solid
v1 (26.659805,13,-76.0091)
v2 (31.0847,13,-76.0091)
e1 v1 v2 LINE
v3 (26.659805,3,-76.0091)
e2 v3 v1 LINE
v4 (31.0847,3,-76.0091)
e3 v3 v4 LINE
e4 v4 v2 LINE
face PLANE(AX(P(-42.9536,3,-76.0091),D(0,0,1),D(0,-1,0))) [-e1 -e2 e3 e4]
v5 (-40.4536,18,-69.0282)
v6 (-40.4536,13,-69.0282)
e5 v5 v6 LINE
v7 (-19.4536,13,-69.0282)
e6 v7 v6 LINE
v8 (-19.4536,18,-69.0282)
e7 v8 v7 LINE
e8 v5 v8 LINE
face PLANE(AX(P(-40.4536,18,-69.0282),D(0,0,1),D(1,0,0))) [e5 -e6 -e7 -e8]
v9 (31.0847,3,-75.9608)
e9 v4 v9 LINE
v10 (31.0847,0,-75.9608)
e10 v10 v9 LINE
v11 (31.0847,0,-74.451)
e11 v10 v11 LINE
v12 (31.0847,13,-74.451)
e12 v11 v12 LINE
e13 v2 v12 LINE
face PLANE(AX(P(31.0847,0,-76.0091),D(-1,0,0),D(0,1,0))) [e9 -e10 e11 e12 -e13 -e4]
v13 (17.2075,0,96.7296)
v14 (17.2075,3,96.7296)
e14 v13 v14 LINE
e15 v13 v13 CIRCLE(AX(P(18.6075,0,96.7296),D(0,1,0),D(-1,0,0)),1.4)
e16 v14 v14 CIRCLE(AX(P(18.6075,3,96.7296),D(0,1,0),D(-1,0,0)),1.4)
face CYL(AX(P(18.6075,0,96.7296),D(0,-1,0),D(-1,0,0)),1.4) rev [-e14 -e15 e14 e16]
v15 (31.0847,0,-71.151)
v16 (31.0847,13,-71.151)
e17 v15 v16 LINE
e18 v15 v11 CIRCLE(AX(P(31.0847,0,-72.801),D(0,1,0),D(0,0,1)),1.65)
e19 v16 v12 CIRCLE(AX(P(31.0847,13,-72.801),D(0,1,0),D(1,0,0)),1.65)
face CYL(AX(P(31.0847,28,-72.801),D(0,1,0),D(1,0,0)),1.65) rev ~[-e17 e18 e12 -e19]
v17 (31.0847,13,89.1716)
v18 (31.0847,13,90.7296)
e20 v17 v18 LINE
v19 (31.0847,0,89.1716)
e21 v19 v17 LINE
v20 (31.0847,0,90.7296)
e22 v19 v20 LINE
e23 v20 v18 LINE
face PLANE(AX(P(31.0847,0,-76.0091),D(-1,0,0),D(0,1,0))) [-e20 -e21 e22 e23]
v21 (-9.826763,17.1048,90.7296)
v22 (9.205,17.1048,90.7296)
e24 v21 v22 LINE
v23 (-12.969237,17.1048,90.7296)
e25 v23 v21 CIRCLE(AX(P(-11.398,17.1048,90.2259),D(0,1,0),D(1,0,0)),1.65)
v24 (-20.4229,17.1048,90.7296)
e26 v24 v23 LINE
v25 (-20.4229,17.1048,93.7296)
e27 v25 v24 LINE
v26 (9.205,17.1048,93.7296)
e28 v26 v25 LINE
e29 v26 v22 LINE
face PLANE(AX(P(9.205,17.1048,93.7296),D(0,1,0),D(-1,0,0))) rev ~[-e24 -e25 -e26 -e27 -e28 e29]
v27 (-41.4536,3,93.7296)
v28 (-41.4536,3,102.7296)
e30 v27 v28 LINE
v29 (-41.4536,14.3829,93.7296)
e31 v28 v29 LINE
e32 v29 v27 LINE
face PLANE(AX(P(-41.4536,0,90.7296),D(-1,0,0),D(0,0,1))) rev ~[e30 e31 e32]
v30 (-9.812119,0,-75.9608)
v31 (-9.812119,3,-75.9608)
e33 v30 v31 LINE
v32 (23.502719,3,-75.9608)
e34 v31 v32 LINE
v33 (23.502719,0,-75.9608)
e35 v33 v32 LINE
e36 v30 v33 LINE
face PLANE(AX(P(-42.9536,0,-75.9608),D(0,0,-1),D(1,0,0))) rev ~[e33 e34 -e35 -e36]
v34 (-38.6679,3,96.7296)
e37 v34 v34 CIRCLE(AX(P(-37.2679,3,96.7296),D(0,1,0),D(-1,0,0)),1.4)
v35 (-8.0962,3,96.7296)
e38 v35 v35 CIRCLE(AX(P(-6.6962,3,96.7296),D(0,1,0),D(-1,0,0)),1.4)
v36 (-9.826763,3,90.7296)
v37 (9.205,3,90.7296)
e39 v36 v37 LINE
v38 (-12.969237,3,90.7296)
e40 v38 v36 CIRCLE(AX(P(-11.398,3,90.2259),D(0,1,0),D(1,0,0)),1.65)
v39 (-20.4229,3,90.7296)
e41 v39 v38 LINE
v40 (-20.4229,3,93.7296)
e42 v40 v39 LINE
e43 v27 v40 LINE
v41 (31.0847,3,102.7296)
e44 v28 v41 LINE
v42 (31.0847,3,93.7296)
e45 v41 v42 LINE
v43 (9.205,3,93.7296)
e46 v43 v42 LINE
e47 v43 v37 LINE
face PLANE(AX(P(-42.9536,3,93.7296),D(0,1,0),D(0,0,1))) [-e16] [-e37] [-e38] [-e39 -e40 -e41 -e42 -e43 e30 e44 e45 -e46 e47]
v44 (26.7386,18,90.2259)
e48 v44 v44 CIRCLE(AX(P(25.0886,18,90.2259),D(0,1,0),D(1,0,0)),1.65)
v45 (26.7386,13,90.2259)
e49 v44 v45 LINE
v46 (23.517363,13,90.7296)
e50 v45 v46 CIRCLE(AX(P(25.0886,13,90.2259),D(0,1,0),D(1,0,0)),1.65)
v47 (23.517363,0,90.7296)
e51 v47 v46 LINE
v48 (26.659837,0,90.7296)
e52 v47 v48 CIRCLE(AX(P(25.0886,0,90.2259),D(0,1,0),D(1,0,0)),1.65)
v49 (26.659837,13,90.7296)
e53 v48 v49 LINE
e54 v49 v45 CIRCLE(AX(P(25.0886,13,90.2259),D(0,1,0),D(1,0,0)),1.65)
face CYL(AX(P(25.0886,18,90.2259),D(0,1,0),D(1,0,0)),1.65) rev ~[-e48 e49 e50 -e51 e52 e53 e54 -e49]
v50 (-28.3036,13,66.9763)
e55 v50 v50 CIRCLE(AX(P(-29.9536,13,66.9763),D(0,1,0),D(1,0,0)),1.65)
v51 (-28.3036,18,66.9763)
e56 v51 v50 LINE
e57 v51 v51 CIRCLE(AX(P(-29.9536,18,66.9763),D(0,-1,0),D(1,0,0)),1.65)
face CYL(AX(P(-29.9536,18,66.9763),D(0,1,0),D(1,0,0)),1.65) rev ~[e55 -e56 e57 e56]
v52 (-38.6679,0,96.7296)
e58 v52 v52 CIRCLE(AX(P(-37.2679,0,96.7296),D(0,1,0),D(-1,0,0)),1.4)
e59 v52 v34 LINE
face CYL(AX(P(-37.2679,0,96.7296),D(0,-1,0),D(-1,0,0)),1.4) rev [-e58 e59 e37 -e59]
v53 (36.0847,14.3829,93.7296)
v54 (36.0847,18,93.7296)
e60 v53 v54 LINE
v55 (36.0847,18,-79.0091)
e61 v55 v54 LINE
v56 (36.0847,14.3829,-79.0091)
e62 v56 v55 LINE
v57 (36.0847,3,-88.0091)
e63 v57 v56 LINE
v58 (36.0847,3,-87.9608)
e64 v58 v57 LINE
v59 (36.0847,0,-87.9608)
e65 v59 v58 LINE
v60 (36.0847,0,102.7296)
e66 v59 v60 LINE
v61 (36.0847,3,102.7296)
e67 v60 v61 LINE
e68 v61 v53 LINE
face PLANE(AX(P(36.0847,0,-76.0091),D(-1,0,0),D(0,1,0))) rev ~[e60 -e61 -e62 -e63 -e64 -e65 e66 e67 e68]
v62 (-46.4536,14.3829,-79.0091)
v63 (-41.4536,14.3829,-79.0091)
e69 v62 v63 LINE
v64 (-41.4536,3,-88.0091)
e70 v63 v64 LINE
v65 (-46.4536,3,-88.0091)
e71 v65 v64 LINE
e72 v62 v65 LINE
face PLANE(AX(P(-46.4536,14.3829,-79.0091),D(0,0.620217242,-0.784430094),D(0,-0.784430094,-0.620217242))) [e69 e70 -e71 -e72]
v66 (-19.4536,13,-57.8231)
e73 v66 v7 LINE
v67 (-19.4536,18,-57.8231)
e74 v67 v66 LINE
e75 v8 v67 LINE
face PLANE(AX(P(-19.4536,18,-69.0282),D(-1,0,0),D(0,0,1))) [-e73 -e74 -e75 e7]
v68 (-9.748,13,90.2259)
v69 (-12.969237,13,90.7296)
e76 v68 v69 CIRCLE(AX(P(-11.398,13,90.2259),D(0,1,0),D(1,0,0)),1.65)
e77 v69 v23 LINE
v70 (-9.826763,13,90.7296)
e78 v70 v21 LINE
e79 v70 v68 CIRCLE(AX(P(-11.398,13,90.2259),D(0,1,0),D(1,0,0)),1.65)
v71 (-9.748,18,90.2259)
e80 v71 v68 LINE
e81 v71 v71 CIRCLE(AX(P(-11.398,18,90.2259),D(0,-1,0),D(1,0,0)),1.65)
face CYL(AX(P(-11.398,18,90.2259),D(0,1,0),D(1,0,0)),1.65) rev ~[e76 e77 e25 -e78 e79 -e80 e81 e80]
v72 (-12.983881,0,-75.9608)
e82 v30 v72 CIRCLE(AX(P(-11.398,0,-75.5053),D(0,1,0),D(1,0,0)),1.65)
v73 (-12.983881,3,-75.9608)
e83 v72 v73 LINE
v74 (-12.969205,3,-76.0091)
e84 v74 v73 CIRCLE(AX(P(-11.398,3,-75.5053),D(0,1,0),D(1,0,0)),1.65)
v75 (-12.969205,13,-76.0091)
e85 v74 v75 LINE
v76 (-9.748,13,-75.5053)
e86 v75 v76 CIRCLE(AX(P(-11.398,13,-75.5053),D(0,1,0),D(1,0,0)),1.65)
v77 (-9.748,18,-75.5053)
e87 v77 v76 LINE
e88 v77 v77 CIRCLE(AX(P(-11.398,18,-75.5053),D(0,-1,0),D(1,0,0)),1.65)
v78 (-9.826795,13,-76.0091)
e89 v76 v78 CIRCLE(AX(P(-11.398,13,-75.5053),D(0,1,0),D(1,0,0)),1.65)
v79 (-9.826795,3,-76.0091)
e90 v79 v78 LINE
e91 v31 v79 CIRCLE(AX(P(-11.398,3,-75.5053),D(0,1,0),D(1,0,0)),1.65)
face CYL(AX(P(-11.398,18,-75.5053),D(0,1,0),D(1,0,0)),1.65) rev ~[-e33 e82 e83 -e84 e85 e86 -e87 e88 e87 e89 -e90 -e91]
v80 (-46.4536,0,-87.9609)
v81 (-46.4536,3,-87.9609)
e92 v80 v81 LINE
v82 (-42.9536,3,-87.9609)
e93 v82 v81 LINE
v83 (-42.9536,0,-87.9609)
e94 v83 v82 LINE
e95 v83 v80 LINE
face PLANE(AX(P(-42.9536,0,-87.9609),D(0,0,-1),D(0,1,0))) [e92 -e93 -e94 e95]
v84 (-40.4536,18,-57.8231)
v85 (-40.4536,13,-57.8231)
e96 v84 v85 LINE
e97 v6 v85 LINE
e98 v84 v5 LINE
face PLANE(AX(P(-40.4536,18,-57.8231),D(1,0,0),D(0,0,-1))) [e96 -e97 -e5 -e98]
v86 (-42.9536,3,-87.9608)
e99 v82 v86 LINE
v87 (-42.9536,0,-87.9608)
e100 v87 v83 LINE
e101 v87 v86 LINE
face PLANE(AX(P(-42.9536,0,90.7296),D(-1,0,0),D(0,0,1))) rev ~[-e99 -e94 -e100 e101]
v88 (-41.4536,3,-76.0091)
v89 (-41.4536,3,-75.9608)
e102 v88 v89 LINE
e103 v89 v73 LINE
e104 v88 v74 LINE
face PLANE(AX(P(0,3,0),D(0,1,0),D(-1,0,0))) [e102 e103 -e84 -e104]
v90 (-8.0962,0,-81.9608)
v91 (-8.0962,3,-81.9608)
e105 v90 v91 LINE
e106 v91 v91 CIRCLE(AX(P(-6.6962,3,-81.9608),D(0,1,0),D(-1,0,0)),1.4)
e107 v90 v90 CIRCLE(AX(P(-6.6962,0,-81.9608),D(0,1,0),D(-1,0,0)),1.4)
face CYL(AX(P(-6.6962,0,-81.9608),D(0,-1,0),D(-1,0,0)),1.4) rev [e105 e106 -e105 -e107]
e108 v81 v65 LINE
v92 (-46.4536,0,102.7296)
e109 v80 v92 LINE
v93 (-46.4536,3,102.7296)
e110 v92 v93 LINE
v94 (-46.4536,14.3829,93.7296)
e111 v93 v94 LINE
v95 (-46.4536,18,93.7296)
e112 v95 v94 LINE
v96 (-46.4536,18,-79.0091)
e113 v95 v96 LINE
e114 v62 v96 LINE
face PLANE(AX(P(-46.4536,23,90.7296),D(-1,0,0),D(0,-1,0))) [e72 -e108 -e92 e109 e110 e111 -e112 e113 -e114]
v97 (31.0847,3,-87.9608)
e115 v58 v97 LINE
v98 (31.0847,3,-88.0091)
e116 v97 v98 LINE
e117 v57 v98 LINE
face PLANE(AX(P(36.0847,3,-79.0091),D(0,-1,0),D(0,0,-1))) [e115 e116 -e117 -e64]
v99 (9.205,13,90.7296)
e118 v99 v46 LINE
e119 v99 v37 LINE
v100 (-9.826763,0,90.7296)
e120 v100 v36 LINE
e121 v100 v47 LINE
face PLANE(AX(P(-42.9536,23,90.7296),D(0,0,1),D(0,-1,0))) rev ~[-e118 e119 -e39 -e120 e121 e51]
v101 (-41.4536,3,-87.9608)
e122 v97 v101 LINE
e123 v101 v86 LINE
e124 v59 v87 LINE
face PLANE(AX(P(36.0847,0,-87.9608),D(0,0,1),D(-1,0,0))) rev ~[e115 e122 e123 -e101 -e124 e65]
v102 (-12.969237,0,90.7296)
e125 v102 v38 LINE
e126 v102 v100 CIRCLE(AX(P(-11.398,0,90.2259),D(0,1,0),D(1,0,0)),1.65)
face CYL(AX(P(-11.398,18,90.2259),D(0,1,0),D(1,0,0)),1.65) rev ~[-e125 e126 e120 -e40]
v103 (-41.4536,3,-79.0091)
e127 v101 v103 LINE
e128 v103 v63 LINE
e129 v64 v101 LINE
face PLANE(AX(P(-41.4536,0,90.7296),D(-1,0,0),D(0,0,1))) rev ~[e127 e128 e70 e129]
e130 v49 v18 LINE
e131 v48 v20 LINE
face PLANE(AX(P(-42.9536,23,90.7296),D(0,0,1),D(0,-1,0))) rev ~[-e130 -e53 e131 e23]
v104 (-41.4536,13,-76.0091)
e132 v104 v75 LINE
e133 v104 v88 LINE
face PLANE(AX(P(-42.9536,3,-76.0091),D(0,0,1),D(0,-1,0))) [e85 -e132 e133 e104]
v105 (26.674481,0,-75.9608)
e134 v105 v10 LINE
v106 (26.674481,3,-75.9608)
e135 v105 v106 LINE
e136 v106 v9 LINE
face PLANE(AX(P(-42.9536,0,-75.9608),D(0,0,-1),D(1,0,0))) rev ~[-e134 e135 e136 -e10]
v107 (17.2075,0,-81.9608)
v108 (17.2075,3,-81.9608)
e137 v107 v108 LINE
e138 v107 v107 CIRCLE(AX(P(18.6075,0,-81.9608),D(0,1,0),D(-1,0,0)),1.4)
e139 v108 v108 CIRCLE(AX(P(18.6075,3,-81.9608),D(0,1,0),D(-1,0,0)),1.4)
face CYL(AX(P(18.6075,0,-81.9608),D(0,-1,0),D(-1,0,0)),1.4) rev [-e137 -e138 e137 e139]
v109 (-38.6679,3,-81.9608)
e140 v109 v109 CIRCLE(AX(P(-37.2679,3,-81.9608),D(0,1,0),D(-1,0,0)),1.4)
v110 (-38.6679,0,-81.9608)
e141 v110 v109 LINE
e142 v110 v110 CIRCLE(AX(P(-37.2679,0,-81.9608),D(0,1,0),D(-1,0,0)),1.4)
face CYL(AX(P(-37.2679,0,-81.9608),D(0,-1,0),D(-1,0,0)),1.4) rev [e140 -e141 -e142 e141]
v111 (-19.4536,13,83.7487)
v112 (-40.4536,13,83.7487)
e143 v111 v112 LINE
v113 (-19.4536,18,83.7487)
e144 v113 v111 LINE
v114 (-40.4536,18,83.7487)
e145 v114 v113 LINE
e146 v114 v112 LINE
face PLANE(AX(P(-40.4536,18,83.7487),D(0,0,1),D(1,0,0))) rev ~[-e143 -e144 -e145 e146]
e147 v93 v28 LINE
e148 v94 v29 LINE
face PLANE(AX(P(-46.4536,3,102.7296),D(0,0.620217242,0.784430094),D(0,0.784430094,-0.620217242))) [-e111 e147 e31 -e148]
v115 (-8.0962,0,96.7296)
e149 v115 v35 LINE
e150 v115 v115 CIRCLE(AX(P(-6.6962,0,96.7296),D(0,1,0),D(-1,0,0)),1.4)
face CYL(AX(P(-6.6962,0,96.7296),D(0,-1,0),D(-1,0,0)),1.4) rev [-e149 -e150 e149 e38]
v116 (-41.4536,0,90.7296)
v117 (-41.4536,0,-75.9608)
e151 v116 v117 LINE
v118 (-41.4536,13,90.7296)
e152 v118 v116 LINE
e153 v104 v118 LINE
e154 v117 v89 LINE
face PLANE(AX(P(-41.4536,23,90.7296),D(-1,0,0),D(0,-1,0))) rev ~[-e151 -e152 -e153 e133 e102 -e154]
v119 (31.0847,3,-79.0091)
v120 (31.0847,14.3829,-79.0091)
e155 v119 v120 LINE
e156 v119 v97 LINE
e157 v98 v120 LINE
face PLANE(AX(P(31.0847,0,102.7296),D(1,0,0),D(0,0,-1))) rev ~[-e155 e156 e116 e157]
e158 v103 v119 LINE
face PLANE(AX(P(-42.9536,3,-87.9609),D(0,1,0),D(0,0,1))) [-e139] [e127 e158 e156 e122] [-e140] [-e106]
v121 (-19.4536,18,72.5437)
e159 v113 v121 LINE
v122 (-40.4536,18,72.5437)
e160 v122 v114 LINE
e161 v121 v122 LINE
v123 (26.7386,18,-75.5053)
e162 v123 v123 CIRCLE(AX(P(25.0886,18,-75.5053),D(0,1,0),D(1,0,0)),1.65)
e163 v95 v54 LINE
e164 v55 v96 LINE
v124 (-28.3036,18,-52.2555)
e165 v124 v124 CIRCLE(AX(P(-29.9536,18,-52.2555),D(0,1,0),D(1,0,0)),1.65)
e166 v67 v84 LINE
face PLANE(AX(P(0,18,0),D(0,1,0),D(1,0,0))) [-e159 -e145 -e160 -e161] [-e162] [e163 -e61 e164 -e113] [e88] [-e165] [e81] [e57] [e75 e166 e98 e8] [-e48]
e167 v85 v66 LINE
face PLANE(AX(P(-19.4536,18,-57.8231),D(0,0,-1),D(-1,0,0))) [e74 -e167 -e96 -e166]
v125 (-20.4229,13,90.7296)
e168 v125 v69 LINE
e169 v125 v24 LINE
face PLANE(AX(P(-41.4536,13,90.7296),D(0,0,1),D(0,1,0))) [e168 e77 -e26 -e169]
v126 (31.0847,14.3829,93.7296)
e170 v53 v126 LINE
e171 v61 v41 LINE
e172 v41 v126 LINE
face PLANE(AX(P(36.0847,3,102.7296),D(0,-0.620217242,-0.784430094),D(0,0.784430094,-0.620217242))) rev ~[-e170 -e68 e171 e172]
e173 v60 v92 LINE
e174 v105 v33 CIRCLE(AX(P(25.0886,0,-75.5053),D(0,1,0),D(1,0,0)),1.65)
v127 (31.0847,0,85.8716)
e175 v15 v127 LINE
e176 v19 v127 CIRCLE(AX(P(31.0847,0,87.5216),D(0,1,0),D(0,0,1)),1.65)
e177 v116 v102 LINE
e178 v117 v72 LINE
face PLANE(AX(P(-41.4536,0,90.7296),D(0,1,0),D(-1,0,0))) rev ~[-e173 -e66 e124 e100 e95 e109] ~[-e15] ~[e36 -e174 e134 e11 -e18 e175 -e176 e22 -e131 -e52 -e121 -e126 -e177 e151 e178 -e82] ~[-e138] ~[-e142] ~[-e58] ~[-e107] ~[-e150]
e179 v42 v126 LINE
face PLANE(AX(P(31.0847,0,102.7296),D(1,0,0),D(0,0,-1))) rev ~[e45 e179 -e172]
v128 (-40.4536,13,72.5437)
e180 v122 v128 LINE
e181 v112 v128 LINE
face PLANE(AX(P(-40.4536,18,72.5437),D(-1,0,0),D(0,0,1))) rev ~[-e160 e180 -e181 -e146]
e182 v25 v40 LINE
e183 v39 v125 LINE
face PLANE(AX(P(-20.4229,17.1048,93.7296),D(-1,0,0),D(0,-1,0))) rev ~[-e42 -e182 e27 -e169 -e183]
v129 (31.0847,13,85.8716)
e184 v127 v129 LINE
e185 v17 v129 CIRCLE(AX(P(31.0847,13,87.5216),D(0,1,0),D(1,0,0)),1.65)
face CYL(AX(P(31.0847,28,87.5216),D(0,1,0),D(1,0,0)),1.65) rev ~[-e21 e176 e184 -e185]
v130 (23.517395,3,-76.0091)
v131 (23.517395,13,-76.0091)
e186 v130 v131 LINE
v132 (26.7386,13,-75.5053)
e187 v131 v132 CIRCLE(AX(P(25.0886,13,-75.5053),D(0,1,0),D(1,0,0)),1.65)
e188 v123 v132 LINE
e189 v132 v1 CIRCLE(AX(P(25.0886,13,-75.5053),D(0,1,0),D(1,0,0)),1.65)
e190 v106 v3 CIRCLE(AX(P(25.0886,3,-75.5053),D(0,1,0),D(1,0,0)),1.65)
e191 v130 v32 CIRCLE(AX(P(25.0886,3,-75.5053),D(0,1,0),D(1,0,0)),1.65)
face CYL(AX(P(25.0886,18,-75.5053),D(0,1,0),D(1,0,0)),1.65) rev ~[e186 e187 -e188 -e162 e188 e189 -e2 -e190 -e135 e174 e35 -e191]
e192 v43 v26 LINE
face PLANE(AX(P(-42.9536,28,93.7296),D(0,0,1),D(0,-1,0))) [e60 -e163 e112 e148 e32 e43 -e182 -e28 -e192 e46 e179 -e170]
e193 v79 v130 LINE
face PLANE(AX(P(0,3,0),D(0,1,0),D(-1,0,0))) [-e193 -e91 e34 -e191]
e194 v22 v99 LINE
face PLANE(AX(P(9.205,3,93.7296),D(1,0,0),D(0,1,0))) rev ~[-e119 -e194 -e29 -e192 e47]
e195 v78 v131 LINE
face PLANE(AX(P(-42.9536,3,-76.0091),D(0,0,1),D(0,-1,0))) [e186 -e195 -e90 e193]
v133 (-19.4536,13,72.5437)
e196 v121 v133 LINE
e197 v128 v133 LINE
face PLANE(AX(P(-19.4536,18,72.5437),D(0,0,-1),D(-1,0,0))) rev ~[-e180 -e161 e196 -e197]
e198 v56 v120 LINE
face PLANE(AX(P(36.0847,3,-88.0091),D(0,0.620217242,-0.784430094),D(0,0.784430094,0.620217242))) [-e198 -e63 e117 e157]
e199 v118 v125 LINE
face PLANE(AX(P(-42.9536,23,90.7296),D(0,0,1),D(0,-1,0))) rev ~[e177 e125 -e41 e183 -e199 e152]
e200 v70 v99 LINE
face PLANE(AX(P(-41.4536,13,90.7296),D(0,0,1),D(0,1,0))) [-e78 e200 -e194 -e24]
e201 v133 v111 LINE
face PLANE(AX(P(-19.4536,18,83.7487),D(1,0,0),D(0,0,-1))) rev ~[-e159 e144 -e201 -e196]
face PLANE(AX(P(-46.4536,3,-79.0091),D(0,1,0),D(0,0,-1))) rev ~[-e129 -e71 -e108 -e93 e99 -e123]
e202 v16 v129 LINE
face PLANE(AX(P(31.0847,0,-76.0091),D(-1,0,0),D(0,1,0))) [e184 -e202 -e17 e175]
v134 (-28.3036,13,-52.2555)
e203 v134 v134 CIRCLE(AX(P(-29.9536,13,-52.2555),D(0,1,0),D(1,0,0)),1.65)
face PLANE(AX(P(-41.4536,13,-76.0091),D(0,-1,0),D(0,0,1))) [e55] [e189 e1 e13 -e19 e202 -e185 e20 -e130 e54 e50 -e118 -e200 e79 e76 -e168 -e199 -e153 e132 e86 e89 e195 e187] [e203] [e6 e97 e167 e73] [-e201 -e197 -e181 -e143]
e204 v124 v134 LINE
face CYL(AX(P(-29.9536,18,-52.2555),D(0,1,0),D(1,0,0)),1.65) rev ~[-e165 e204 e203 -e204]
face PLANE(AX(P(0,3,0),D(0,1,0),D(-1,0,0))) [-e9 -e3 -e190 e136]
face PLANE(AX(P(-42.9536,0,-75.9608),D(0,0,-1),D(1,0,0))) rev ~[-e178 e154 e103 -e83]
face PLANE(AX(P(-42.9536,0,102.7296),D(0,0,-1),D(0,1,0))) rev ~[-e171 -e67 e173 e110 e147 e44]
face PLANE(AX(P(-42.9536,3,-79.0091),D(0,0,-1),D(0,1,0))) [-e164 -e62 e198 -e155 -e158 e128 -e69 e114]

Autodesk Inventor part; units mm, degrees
ref_plane "YZ Plane" through (0, 0, 0) normal (1, 0, 0) x (0, 1, 0)
ref_plane "XZ Plane" through (0, 0, 0) normal (0, 1, 0) x (-1, 0, 0)
ref_plane "XY Plane" through (0, 0, 0) normal (0, 0, 1) x (1, 0, 0)
sketch "Sketch1" plane through (0, 0, 0) normal (0, 1, 0) x (-1, 0, 0)
  line L0 (-36.0847, -75.9608) -> (-36.0847, -87.9608)
  line L1 (-36.0847, -87.9608) -> (42.9536, -87.9608)
  line L2 (42.9536, -87.9608) -> (42.9536, -75.9608)
  line L3 (42.9536, -75.9608) -> (-36.0847, -75.9608)
  line L4 (-36.0847, -75.9608) -> (-36.0847, -87.9608)
  circle A0 centre (-18.6075, -81.9608) radius 1.4
  circle A1 centre (-18.6075, -81.9608) radius 1.4
  circle A2 centre (6.6962, -81.9608) radius 1.4
  circle A3 centre (6.6962, -81.9608) radius 1.4
  circle A4 centre (37.2679, -81.9608) radius 1.4
  circle A5 centre (37.2679, -81.9608) radius 1.4
  line L5 (-36.0847, 90.7296) -> (-36.0847, 102.7296)
  line L6 (-36.0847, 102.7296) -> (42.9536, 102.7296)
  line L7 (42.9536, 102.7296) -> (42.9536, 90.7296)
  line L8 (42.9536, 90.7296) -> (-36.0847, 90.7296)
  line L9 (-36.0847, 90.7296) -> (-36.0847, 102.7296)
  circle A6 centre (-18.6075, 96.7296) radius 1.4
  circle A7 centre (-18.6075, 96.7296) radius 1.4
  circle A8 centre (6.6962, 96.7296) radius 1.4
  circle A9 centre (6.6962, 96.7296) radius 1.4
  circle A10 centre (37.2679, 96.7296) radius 1.4
  circle A11 centre (37.2679, 96.7296) radius 1.4
  point P0 (0, 0)
  point P1 (-48.8522, 7.3844)
extrude "Extrusion1" add sketch "Sketch1" along normal blind 3
sketch "Sketch2" plane through (0, 3, 0) normal (0, 1, 0) x (1, 0, 0)
  line L0 (36.0847, -90.7296) -> (-42.9536, -90.7296) projected
  line L1 (-42.9536, -90.7296) -> (-42.9536, -102.7296) projected
  line L2 (36.0847, -90.7296) -> (-42.9536, -90.7296)
  line L3 (-42.9536, -90.7296) -> (-42.9536, -93.7296)
  line L4 (-42.9536, -93.7296) -> (36.0847, -93.7296)
  line L5 (36.0847, -93.7296) -> (36.0847, -90.7296)
  line L6 (-42.9536, 76.0091) -> (36.0847, 76.0091)
  line L7 (36.0847, 76.0091) -> (36.0847, 79.0091)
  line L8 (36.0847, 79.0091) -> (-42.9536, 79.0091)
  line L9 (-42.9536, 79.0091) -> (-42.9536, 76.0091)
  point P0 (0, 0)
  dimension "d2" = 3
  dimension "d3" = 3
extrude "Extrusion2" add sketch "Sketch2" along normal blind 25
sketch "Sketch3" plane through (-42.9536, 3, -76.0091) normal (0, 0, 1) x (1, 0, 0)
  line L0 (0, 0) -> (0, 25) projected
  line L1 (79.0383, 0) -> (79.0383, 25) projected
  line L2 (0, 25) -> (79.0383, 25)
  line L3 (79.0383, 25) -> (79.0383, 20)
  line L4 (79.0383, 20) -> (0, 20)
  line L5 (0, 20) -> (0, 25)
  point P0 (42.9536, -3)
  point P1 (0, 20)
  dimension "d6" = 5
extrude "Extrusion3" add sketch "Sketch3" along normal blind 168
sketch "Sketch4" plane through (-42.9536, 3, 93.7296) normal (0, 0, 1) x (1, 0, 0)
  line L0 (79.0383, 0) -> (0, 0) projected
  line L1 (22.5307, 0) -> (52.1586, 0)
  line L2 (52.1586, 0) -> (52.1586, 14.1048)
  line L3 (52.1586, 14.1048) -> (22.5307, 14.1048)
  line L4 (22.5307, 14.1048) -> (22.5307, 0)
  point P0 (42.9536, -3)
extrude "Extrusion4" cut sketch "Sketch4" against normal blind 20
sketch "Sketch5" plane through (36.0847, 0, 102.7296) normal (1, 0, 0) x (0, 0, -1)
  line L0 (0, 3) -> (9, 3) projected
  line L1 (0, 3) -> (9, 14.3829)
  line L2 (9, 3) -> (9, 28) projected
  line L3 (0, 0) -> (0, 3) projected
  line L4 (0, 3) -> (9, 3)
  line L5 (9, 14.3829) -> (9, 3)
  point P0 (102.7296, 0)
extrude "Extrusion5" add sketch "Sketch5" against normal blind 5
sketch "Sketch7" plane through (36.0847, 0, 102.7296) normal (1, 0, 0) x (0, 0, -1)
  line L0 (190.7387, 3) -> (181.7387, 14.3829)
  line L1 (181.7387, 14.3829) -> (190.7387, 3)
  line L2 (181.7387, 3) -> (190.7387, 3)
  line L3 (190.7387, 3) -> (181.7387, 3)
  line L4 (181.7387, 3) -> (181.7387, 14.3829)
  point P0 (102.7296, 0)
extrude "Extrusion7" add sketch "Sketch7" against normal blind 5
sketch "Sketch10" plane through (36.0847, 3, -76.0091) normal (0, 0, 1) x (1, 0, 0)
  line L0 (0, -3) -> (0, 0) projected
  line L1 (0, 20) -> (-79.0383, 20) projected
  line L2 (0, -3) -> (-5, -3)
  line L3 (-5, -3) -> (-5, 20)
  line L4 (-5, 20) -> (0, 20)
  line L5 (0, 20) -> (0, -3)
  point P0 (-36.0847, -3)
  point P1 (-74.0383, 20)
  dimension "d22" = 5
extrude "Extrusion10" add sketch "Sketch10" along normal blind 168
sketch "Sketch11" plane through (0, 28, 0) normal (0, 1, 0) x (1, 0, 0)
  line L0 (-42.9536, 79.0091) -> (-42.9536, -93.7296) projected
  line L1 (-42.9536, -7.3603) -> (36.0847, -7.3603)
  line L2 (36.0847, -93.7296) -> (36.0847, 79.0091) projected
  point P0 (0, 0)
sketch "Sketch12" plane through (-42.9536, 0, -87.9608) normal (-1, 0, 0) x (0, 0, 1)
  line L0 (0, 0) -> (190.6905, 0) projected
  line L1 (0, 0) -> (0, 3) projected
  line L2 (0, 0) -> (0, 3)
  point P0 (87.9608, 0)
sketch "Sketch13" plane through (-42.9536, 0, 90.7296) normal (-1, 0, 0) x (0, 0, 1)
  line L0 (-178.6905, 0) -> (-178.6905, 3) projected
  line L1 (-178.6905, 0) -> (-178.6905, 3)
  line L2 (-169.7387, 3) -> (-169.7387, 28) projected
  line L3 (-178.6905, 3) -> (-169.7387, 3)
  line L4 (-169.7387, 28) -> (3, 28) projected
  line L5 (-169.7387, 3) -> (-169.7387, 28)
  line L6 (-169.7387, 28) -> (3, 28)
  line L7 (3, 28) -> (3, 3)
  line L8 (12, 0) -> (12, 3) projected
  line L9 (3, 3) -> (12, 3)
  line L10 (12, 3) -> (12, 0)
  line L11 (0, 23) -> (0, 0) projected
  line L12 (12, 0) -> (0, 0)
  line L13 (0, 0) -> (0, 23)
  line L14 (-166.7387, 3) -> (-166.7387, 23) projected
  line L15 (0, 23) -> (-166.7387, 23)
  line L16 (-166.7387, 23) -> (-166.7387, 0)
  line L17 (-166.7387, 0) -> (-178.6905, 0)
  point P0 (-90.7296, 0)
extrude "Extrusion11" add sketch "Sketch13" along normal blind 3.5
sketch "Sketch14" plane through (-46.4536, 0, 90.7296) normal (-1, 0, 0) x (0, 0, 1)
  line L0 (-169.7387, 14.3829) -> (-178.7387, 3) projected
  line L1 (12, 3) -> (3, 14.3829) projected
  line L2 (-169.7387, 3) -> (-178.6905, 3) projected
  line L3 (-178.7387, 3) -> (-169.7387, 3)
  line L4 (-169.7387, 3) -> (-169.7387, 14.3829)
  line L5 (-169.7387, 14.3829) -> (-178.7387, 3)
  line L6 (3, 14.3829) -> (3, 3)
  line L7 (3, 3) -> (12, 3)
  line L8 (3, 14.3829) -> (12, 3)
  point P0 (-90.7296, 0)
extrude "Extrusion12" add sketch "Sketch14" against normal blind 5
sketch "Sketch15" plane through (31.0847, 0, 90.7296) normal (0, 0, -1) x (-1, 0, 0)
  line L0 (77.5383, 23) -> (77.5383, 0) projected
  line L1 (0, 0) -> (77.5383, 0) projected
  line L2 (77.5383, 23) -> (72.5383, 23)
  line L3 (72.5383, 23) -> (72.5383, 0)
  line L4 (72.5383, 0) -> (77.5383, 0)
  line L5 (77.5383, 0) -> (77.5383, 23)
  point P0 (31.0847, 0)
  dimension "d29" = 5
extrude "Extrusion13" add sketch "Sketch15" along normal blind 168
sketch "Sketch16" plane through (0, 28, 0) normal (0, 1, 0) x (1, 0, 0)
  line L0 (31.0847, 75.9608) -> (31.0847, -90.7296) projected
  circle A0 centre (31.0847, 72.801) radius 1.65
  circle A1 centre (-37.2679, 72.801) radius 1.65
  circle A2 centre (-6.278, 72.801) radius 1.65
  line L1 (-42.9536, -7.3603) -> (36.0847, -7.3603) projected
  circle A3 centre (31.0847, -87.5216) radius 1.65
  circle A4 centre (-37.2679, -87.5216) radius 1.65
  circle A5 centre (-6.278, -87.5216) radius 1.65
  point P0 (0, 0)
  point P1 (31.0847, -90.6814)
  dimension "d32" = 3.3
  dimension "d33" = 3.3
extrude "Extrusion14" cut sketch "Sketch16" against normal blind 168
sketch "Sketch17" plane through (0, 28, 0) normal (0, 1, 0) x (1, 0, 0)
  line L0 (36.0847, 79.0091) -> (-46.4536, 79.0091) projected
  line L1 (31.0847, -93.7296) -> (36.0847, -93.7296) projected
  line L2 (-46.4536, 79.0091) -> (36.0847, 79.0091)
  line L3 (36.0847, 79.0091) -> (36.0847, -93.7296)
  line L4 (36.0847, -93.7296) -> (-46.4536, -93.7296)
  line L5 (-46.4536, -93.7296) -> (-46.4536, 79.0091)
  arc A0 (31.0847, -89.1716) -> (31.0847, -85.8716) centre (31.0847, -87.5216) ccw projected
  circle A1 centre (31.0847, -87.5216) radius 1.65
  circle A2 centre (-6.278, -87.5216) radius 1.65 projected
  circle A3 centre (-6.278, -87.5216) radius 1.65
  circle A4 centre (-37.2679, -87.5216) radius 1.65 projected
  circle A5 centre (-37.2679, -87.5216) radius 1.65
  circle A6 centre (-37.2679, 72.801) radius 1.65 projected
  circle A7 centre (-37.2679, 72.801) radius 1.65
  circle A8 centre (-6.278, 72.801) radius 1.65 projected
  circle A9 centre (-6.278, 72.801) radius 1.65
  arc A10 (31.0847, 71.151) -> (31.0847, 74.451) centre (31.0847, 72.801) ccw projected
  circle A11 centre (31.0847, 72.801) radius 1.65
  point P0 (0, 0)
  point P1 (31.0847, -85.8716)
extrude "Extrusion15" cut sketch "Sketch17" against normal blind 10
sketch "Sketch18" plane through (-41.4536, 0, 90.7296) normal (1, 0, 0) x (0, 0, -1)
  line L0 (166.7387, 18) -> (0, 18) projected
  line L1 (166.7387, 18) -> (166.7387, 3) projected
  line L2 (0, 18) -> (166.7387, 18)
  line L3 (166.7387, 18) -> (166.7387, 13)
  line L4 (166.7387, 13) -> (0, 13)
  line L5 (0, 13) -> (0, 18)
  point P0 (90.7296, 0)
  dimension "d38" = 5
extrude "Extrusion16" add sketch "Sketch18" along normal blind 75
sketch "Sketch19" plane through (0, 18, 0) normal (0, 1, 0) x (1, 0, 0)
  line L0 (33.4512, -7.3603) -> (-16.5488, -7.3603)
  line L1 (-16.5488, -7.3603) -> (-16.5488, 69.1397)
  line L2 (-16.5488, 69.1397) -> (33.4512, 69.1397)
  line L3 (33.4512, 69.1397) -> (33.4512, -7.3603)
  line L4 (33.4512, -7.3603) -> (-16.5488, -7.3603)
  line L5 (-16.5488, -7.3603) -> (-16.5488, -83.8603)
  line L6 (-16.5488, -83.8603) -> (33.4512, -83.8603)
  line L7 (33.4512, -83.8603) -> (33.4512, -7.3603)
  line L8 (36.0847, 79.0091) -> (36.0847, -93.7296) projected
  line L9 (36.0847, -7.3603) -> (-18.6839, -7.3603)
  line L10 (-18.6839, -7.3603) -> (-18.6839, -86.5599)
  line L11 (-18.6839, -86.5599) -> (36.0847, -86.5599)
  line L12 (36.0847, -86.5599) -> (36.0847, -7.3603)
  line L13 (-18.6839, 71.8393) -> (36.0847, 71.8393)
  line L14 (-18.6839, -7.3603) -> (-18.6839, 71.8393)
  circle A0 centre (-11.398, -90.2259) radius 1.65
  circle A1 centre (25.0886, -90.2259) radius 1.65
  line L15 (36.0847, -86.5599) -> (36.0847, -93.7296)
  line L16 (36.0847, -93.7296) -> (-18.6839, -93.7296)
  line L17 (-20.4229, -90.7296) -> (9.205, -90.7296) projected
  line L18 (-18.6839, -93.7296) -> (-18.6839, -86.5599)
  line L19 (-18.6839, 71.8393) -> (36.0847, 71.8393)
  circle A2 centre (-11.398, 75.5053) radius 1.65
  circle A3 centre (25.0886, 75.5053) radius 1.65
  line L20 (36.0847, 71.8393) -> (36.0847, 79.0091)
  line L21 (36.0847, 79.0091) -> (-18.6839, 79.0091)
  line L22 (-20.4229, 76.0091) -> (9.205, 76.0091)
  line L23 (-18.6839, 79.0091) -> (-18.6839, 71.8393)
  point P0 (0, 0)
  dimension "d41" = 50
  dimension "d42" = 76.5
  dimension "d43" = 76.5
  dimension "d44" = 3.3
  dimension "d45" = 3.3
extrude "Extrusion17" cut sketch "Sketch19" against normal blind 75 contours A2 L22 | L22 A2 | A0 L17 | L17 A0 | A1 | A3
sketch "Sketch20" plane through (0, 18, 0) normal (0, 1, 0) x (1, 0, 0)
  circle A0 centre (-11.398, 75.5053) radius 1.65 projected
  line L0 (-11.398, 75.5053) -> (-37.0391, 75.5053)
  line L1 (-12.9693, 76.0091) -> (-41.4536, 76.0091) projected
  circle A1 centre (-37.0391, 75.5053) radius 1.65
  line L2 (-42.9536, -7.3603) -> (36.0847, -7.3603) projected
  circle A2 centre (-37.0391, -90.2259) radius 1.65
  line L3 (-46.4536, -93.7296) -> (-46.4536, 79.0091) projected
  line L4 (-46.4536, -7.3603) -> (-19.4536, -7.3603)
  line L5 (-19.4536, -7.3603) -> (-40.4536, -7.3603)
  line L6 (-40.4536, -7.3603) -> (-40.4536, 47.6397)
  line L7 (-40.4536, 47.6397) -> (-19.4536, 47.6397)
  line L8 (-19.4536, 47.6397) -> (-19.4536, -7.3603)
  line L9 (-19.4536, -7.3603) -> (-40.4536, -7.3603)
  line L10 (-40.4536, -7.3603) -> (-40.4536, -62.3603)
  line L11 (-40.4536, -62.3603) -> (-19.4536, -62.3603)
  line L12 (-19.4536, -62.3603) -> (-19.4536, -7.3603)
  circle A3 centre (-29.9536, 52.2555) radius 1.65
  line L13 (-29.9536, -62.3603) -> (-29.9536, -66.9763)
  circle A4 centre (-29.9536, -66.9763) radius 1.65
  line L14 (-19.4536, -72.5437) -> (-40.4536, -72.5437)
  line L15 (-40.4536, -72.5437) -> (-40.4536, -83.7487)
  line L16 (-40.4536, -83.7487) -> (-19.4536, -83.7487)
  line L17 (-19.4536, -83.7487) -> (-19.4536, -72.5437)
  line L18 (-19.4536, 57.8231) -> (-40.4536, 57.8231)
  line L19 (-40.4536, 57.8231) -> (-40.4536, 69.0282)
  line L20 (-40.4536, 69.0282) -> (-19.4536, 69.0282)
  line L21 (-19.4536, 69.0282) -> (-19.4536, 57.8231)
  point P0 (0, 0)
  point P1 (-41.4536, -90.7296)
  dimension "d48" = 3.3
  dimension "d49" = 27
  dimension "d50" = 21
  dimension "d51" = 55
  dimension "d52" = 55
  dimension "d53" = 3.3
  dimension "d54" = 4.616
  dimension "d55" = 3.3
extrude "Extrusion18" cut sketch "Sketch20" against normal blind 75 contours A4 | A3 | L17 L16 L15 L14 | L18 L19 L20 L21
sketch "Sketch21" plane through (0, 18, 0) normal (0, 1, 0) x (1, 0, 0)
  line L0 (-42.9536, -7.3603) -> (36.0847, -7.3603) projected
  line L1 (-29.9536, -7.3603) -> (-17.4536, -7.3603)
  line L2 (-17.4536, -7.3603) -> (-17.4536, -62.3603)
  line L3 (-17.4536, -62.3603) -> (-29.9536, -62.3603)
  line L4 (-29.9536, -62.3603) -> (-29.9536, -7.3603)
  line L5 (-29.9536, -7.3603) -> (-42.4536, -7.3603)
  line L6 (-42.4536, -7.3603) -> (-42.4536, -62.3603)
  line L7 (-42.4536, -62.3603) -> (-29.9536, -62.3603)
  line L8 (-17.4536, -7.3603) -> (-17.4536, 47.6397)
  line L9 (-17.4536, 47.6397) -> (-29.9536, 47.6397)
  line L10 (-29.9536, 47.6397) -> (-29.9536, -7.3603)
  line L11 (-42.4536, -7.3603) -> (-42.4536, 47.6397)
  line L12 (-42.4536, 47.6397) -> (-29.9536, 47.6397)
  line L13 (-17.4536, 47.6397) -> (-42.4536, 47.6397)
  line L14 (-42.4536, 47.6397) -> (-42.4536, 56.0699)
  line L15 (-42.4536, 56.0699) -> (-17.4536, 56.0699)
  line L16 (-17.4536, 56.0699) -> (-17.4536, 47.6397)
  line L17 (-17.4536, -62.3603) -> (-29.9536, -62.3603)
  line L18 (-42.4536, -62.3603) -> (-29.9536, -62.3603)
  line L19 (-17.4536, -62.3603) -> (-42.4536, -62.3603)
  line L20 (-42.4536, -62.3603) -> (-42.4536, -70.7904)
  line L21 (-42.4536, -70.7904) -> (-17.4536, -70.7904)
  line L22 (-17.4536, -70.7904) -> (-17.4536, -62.3603)
  point P0 (0, 0)
  dimension "d58" = 12.5
  dimension "d59" = 55
properties part number "atap"
